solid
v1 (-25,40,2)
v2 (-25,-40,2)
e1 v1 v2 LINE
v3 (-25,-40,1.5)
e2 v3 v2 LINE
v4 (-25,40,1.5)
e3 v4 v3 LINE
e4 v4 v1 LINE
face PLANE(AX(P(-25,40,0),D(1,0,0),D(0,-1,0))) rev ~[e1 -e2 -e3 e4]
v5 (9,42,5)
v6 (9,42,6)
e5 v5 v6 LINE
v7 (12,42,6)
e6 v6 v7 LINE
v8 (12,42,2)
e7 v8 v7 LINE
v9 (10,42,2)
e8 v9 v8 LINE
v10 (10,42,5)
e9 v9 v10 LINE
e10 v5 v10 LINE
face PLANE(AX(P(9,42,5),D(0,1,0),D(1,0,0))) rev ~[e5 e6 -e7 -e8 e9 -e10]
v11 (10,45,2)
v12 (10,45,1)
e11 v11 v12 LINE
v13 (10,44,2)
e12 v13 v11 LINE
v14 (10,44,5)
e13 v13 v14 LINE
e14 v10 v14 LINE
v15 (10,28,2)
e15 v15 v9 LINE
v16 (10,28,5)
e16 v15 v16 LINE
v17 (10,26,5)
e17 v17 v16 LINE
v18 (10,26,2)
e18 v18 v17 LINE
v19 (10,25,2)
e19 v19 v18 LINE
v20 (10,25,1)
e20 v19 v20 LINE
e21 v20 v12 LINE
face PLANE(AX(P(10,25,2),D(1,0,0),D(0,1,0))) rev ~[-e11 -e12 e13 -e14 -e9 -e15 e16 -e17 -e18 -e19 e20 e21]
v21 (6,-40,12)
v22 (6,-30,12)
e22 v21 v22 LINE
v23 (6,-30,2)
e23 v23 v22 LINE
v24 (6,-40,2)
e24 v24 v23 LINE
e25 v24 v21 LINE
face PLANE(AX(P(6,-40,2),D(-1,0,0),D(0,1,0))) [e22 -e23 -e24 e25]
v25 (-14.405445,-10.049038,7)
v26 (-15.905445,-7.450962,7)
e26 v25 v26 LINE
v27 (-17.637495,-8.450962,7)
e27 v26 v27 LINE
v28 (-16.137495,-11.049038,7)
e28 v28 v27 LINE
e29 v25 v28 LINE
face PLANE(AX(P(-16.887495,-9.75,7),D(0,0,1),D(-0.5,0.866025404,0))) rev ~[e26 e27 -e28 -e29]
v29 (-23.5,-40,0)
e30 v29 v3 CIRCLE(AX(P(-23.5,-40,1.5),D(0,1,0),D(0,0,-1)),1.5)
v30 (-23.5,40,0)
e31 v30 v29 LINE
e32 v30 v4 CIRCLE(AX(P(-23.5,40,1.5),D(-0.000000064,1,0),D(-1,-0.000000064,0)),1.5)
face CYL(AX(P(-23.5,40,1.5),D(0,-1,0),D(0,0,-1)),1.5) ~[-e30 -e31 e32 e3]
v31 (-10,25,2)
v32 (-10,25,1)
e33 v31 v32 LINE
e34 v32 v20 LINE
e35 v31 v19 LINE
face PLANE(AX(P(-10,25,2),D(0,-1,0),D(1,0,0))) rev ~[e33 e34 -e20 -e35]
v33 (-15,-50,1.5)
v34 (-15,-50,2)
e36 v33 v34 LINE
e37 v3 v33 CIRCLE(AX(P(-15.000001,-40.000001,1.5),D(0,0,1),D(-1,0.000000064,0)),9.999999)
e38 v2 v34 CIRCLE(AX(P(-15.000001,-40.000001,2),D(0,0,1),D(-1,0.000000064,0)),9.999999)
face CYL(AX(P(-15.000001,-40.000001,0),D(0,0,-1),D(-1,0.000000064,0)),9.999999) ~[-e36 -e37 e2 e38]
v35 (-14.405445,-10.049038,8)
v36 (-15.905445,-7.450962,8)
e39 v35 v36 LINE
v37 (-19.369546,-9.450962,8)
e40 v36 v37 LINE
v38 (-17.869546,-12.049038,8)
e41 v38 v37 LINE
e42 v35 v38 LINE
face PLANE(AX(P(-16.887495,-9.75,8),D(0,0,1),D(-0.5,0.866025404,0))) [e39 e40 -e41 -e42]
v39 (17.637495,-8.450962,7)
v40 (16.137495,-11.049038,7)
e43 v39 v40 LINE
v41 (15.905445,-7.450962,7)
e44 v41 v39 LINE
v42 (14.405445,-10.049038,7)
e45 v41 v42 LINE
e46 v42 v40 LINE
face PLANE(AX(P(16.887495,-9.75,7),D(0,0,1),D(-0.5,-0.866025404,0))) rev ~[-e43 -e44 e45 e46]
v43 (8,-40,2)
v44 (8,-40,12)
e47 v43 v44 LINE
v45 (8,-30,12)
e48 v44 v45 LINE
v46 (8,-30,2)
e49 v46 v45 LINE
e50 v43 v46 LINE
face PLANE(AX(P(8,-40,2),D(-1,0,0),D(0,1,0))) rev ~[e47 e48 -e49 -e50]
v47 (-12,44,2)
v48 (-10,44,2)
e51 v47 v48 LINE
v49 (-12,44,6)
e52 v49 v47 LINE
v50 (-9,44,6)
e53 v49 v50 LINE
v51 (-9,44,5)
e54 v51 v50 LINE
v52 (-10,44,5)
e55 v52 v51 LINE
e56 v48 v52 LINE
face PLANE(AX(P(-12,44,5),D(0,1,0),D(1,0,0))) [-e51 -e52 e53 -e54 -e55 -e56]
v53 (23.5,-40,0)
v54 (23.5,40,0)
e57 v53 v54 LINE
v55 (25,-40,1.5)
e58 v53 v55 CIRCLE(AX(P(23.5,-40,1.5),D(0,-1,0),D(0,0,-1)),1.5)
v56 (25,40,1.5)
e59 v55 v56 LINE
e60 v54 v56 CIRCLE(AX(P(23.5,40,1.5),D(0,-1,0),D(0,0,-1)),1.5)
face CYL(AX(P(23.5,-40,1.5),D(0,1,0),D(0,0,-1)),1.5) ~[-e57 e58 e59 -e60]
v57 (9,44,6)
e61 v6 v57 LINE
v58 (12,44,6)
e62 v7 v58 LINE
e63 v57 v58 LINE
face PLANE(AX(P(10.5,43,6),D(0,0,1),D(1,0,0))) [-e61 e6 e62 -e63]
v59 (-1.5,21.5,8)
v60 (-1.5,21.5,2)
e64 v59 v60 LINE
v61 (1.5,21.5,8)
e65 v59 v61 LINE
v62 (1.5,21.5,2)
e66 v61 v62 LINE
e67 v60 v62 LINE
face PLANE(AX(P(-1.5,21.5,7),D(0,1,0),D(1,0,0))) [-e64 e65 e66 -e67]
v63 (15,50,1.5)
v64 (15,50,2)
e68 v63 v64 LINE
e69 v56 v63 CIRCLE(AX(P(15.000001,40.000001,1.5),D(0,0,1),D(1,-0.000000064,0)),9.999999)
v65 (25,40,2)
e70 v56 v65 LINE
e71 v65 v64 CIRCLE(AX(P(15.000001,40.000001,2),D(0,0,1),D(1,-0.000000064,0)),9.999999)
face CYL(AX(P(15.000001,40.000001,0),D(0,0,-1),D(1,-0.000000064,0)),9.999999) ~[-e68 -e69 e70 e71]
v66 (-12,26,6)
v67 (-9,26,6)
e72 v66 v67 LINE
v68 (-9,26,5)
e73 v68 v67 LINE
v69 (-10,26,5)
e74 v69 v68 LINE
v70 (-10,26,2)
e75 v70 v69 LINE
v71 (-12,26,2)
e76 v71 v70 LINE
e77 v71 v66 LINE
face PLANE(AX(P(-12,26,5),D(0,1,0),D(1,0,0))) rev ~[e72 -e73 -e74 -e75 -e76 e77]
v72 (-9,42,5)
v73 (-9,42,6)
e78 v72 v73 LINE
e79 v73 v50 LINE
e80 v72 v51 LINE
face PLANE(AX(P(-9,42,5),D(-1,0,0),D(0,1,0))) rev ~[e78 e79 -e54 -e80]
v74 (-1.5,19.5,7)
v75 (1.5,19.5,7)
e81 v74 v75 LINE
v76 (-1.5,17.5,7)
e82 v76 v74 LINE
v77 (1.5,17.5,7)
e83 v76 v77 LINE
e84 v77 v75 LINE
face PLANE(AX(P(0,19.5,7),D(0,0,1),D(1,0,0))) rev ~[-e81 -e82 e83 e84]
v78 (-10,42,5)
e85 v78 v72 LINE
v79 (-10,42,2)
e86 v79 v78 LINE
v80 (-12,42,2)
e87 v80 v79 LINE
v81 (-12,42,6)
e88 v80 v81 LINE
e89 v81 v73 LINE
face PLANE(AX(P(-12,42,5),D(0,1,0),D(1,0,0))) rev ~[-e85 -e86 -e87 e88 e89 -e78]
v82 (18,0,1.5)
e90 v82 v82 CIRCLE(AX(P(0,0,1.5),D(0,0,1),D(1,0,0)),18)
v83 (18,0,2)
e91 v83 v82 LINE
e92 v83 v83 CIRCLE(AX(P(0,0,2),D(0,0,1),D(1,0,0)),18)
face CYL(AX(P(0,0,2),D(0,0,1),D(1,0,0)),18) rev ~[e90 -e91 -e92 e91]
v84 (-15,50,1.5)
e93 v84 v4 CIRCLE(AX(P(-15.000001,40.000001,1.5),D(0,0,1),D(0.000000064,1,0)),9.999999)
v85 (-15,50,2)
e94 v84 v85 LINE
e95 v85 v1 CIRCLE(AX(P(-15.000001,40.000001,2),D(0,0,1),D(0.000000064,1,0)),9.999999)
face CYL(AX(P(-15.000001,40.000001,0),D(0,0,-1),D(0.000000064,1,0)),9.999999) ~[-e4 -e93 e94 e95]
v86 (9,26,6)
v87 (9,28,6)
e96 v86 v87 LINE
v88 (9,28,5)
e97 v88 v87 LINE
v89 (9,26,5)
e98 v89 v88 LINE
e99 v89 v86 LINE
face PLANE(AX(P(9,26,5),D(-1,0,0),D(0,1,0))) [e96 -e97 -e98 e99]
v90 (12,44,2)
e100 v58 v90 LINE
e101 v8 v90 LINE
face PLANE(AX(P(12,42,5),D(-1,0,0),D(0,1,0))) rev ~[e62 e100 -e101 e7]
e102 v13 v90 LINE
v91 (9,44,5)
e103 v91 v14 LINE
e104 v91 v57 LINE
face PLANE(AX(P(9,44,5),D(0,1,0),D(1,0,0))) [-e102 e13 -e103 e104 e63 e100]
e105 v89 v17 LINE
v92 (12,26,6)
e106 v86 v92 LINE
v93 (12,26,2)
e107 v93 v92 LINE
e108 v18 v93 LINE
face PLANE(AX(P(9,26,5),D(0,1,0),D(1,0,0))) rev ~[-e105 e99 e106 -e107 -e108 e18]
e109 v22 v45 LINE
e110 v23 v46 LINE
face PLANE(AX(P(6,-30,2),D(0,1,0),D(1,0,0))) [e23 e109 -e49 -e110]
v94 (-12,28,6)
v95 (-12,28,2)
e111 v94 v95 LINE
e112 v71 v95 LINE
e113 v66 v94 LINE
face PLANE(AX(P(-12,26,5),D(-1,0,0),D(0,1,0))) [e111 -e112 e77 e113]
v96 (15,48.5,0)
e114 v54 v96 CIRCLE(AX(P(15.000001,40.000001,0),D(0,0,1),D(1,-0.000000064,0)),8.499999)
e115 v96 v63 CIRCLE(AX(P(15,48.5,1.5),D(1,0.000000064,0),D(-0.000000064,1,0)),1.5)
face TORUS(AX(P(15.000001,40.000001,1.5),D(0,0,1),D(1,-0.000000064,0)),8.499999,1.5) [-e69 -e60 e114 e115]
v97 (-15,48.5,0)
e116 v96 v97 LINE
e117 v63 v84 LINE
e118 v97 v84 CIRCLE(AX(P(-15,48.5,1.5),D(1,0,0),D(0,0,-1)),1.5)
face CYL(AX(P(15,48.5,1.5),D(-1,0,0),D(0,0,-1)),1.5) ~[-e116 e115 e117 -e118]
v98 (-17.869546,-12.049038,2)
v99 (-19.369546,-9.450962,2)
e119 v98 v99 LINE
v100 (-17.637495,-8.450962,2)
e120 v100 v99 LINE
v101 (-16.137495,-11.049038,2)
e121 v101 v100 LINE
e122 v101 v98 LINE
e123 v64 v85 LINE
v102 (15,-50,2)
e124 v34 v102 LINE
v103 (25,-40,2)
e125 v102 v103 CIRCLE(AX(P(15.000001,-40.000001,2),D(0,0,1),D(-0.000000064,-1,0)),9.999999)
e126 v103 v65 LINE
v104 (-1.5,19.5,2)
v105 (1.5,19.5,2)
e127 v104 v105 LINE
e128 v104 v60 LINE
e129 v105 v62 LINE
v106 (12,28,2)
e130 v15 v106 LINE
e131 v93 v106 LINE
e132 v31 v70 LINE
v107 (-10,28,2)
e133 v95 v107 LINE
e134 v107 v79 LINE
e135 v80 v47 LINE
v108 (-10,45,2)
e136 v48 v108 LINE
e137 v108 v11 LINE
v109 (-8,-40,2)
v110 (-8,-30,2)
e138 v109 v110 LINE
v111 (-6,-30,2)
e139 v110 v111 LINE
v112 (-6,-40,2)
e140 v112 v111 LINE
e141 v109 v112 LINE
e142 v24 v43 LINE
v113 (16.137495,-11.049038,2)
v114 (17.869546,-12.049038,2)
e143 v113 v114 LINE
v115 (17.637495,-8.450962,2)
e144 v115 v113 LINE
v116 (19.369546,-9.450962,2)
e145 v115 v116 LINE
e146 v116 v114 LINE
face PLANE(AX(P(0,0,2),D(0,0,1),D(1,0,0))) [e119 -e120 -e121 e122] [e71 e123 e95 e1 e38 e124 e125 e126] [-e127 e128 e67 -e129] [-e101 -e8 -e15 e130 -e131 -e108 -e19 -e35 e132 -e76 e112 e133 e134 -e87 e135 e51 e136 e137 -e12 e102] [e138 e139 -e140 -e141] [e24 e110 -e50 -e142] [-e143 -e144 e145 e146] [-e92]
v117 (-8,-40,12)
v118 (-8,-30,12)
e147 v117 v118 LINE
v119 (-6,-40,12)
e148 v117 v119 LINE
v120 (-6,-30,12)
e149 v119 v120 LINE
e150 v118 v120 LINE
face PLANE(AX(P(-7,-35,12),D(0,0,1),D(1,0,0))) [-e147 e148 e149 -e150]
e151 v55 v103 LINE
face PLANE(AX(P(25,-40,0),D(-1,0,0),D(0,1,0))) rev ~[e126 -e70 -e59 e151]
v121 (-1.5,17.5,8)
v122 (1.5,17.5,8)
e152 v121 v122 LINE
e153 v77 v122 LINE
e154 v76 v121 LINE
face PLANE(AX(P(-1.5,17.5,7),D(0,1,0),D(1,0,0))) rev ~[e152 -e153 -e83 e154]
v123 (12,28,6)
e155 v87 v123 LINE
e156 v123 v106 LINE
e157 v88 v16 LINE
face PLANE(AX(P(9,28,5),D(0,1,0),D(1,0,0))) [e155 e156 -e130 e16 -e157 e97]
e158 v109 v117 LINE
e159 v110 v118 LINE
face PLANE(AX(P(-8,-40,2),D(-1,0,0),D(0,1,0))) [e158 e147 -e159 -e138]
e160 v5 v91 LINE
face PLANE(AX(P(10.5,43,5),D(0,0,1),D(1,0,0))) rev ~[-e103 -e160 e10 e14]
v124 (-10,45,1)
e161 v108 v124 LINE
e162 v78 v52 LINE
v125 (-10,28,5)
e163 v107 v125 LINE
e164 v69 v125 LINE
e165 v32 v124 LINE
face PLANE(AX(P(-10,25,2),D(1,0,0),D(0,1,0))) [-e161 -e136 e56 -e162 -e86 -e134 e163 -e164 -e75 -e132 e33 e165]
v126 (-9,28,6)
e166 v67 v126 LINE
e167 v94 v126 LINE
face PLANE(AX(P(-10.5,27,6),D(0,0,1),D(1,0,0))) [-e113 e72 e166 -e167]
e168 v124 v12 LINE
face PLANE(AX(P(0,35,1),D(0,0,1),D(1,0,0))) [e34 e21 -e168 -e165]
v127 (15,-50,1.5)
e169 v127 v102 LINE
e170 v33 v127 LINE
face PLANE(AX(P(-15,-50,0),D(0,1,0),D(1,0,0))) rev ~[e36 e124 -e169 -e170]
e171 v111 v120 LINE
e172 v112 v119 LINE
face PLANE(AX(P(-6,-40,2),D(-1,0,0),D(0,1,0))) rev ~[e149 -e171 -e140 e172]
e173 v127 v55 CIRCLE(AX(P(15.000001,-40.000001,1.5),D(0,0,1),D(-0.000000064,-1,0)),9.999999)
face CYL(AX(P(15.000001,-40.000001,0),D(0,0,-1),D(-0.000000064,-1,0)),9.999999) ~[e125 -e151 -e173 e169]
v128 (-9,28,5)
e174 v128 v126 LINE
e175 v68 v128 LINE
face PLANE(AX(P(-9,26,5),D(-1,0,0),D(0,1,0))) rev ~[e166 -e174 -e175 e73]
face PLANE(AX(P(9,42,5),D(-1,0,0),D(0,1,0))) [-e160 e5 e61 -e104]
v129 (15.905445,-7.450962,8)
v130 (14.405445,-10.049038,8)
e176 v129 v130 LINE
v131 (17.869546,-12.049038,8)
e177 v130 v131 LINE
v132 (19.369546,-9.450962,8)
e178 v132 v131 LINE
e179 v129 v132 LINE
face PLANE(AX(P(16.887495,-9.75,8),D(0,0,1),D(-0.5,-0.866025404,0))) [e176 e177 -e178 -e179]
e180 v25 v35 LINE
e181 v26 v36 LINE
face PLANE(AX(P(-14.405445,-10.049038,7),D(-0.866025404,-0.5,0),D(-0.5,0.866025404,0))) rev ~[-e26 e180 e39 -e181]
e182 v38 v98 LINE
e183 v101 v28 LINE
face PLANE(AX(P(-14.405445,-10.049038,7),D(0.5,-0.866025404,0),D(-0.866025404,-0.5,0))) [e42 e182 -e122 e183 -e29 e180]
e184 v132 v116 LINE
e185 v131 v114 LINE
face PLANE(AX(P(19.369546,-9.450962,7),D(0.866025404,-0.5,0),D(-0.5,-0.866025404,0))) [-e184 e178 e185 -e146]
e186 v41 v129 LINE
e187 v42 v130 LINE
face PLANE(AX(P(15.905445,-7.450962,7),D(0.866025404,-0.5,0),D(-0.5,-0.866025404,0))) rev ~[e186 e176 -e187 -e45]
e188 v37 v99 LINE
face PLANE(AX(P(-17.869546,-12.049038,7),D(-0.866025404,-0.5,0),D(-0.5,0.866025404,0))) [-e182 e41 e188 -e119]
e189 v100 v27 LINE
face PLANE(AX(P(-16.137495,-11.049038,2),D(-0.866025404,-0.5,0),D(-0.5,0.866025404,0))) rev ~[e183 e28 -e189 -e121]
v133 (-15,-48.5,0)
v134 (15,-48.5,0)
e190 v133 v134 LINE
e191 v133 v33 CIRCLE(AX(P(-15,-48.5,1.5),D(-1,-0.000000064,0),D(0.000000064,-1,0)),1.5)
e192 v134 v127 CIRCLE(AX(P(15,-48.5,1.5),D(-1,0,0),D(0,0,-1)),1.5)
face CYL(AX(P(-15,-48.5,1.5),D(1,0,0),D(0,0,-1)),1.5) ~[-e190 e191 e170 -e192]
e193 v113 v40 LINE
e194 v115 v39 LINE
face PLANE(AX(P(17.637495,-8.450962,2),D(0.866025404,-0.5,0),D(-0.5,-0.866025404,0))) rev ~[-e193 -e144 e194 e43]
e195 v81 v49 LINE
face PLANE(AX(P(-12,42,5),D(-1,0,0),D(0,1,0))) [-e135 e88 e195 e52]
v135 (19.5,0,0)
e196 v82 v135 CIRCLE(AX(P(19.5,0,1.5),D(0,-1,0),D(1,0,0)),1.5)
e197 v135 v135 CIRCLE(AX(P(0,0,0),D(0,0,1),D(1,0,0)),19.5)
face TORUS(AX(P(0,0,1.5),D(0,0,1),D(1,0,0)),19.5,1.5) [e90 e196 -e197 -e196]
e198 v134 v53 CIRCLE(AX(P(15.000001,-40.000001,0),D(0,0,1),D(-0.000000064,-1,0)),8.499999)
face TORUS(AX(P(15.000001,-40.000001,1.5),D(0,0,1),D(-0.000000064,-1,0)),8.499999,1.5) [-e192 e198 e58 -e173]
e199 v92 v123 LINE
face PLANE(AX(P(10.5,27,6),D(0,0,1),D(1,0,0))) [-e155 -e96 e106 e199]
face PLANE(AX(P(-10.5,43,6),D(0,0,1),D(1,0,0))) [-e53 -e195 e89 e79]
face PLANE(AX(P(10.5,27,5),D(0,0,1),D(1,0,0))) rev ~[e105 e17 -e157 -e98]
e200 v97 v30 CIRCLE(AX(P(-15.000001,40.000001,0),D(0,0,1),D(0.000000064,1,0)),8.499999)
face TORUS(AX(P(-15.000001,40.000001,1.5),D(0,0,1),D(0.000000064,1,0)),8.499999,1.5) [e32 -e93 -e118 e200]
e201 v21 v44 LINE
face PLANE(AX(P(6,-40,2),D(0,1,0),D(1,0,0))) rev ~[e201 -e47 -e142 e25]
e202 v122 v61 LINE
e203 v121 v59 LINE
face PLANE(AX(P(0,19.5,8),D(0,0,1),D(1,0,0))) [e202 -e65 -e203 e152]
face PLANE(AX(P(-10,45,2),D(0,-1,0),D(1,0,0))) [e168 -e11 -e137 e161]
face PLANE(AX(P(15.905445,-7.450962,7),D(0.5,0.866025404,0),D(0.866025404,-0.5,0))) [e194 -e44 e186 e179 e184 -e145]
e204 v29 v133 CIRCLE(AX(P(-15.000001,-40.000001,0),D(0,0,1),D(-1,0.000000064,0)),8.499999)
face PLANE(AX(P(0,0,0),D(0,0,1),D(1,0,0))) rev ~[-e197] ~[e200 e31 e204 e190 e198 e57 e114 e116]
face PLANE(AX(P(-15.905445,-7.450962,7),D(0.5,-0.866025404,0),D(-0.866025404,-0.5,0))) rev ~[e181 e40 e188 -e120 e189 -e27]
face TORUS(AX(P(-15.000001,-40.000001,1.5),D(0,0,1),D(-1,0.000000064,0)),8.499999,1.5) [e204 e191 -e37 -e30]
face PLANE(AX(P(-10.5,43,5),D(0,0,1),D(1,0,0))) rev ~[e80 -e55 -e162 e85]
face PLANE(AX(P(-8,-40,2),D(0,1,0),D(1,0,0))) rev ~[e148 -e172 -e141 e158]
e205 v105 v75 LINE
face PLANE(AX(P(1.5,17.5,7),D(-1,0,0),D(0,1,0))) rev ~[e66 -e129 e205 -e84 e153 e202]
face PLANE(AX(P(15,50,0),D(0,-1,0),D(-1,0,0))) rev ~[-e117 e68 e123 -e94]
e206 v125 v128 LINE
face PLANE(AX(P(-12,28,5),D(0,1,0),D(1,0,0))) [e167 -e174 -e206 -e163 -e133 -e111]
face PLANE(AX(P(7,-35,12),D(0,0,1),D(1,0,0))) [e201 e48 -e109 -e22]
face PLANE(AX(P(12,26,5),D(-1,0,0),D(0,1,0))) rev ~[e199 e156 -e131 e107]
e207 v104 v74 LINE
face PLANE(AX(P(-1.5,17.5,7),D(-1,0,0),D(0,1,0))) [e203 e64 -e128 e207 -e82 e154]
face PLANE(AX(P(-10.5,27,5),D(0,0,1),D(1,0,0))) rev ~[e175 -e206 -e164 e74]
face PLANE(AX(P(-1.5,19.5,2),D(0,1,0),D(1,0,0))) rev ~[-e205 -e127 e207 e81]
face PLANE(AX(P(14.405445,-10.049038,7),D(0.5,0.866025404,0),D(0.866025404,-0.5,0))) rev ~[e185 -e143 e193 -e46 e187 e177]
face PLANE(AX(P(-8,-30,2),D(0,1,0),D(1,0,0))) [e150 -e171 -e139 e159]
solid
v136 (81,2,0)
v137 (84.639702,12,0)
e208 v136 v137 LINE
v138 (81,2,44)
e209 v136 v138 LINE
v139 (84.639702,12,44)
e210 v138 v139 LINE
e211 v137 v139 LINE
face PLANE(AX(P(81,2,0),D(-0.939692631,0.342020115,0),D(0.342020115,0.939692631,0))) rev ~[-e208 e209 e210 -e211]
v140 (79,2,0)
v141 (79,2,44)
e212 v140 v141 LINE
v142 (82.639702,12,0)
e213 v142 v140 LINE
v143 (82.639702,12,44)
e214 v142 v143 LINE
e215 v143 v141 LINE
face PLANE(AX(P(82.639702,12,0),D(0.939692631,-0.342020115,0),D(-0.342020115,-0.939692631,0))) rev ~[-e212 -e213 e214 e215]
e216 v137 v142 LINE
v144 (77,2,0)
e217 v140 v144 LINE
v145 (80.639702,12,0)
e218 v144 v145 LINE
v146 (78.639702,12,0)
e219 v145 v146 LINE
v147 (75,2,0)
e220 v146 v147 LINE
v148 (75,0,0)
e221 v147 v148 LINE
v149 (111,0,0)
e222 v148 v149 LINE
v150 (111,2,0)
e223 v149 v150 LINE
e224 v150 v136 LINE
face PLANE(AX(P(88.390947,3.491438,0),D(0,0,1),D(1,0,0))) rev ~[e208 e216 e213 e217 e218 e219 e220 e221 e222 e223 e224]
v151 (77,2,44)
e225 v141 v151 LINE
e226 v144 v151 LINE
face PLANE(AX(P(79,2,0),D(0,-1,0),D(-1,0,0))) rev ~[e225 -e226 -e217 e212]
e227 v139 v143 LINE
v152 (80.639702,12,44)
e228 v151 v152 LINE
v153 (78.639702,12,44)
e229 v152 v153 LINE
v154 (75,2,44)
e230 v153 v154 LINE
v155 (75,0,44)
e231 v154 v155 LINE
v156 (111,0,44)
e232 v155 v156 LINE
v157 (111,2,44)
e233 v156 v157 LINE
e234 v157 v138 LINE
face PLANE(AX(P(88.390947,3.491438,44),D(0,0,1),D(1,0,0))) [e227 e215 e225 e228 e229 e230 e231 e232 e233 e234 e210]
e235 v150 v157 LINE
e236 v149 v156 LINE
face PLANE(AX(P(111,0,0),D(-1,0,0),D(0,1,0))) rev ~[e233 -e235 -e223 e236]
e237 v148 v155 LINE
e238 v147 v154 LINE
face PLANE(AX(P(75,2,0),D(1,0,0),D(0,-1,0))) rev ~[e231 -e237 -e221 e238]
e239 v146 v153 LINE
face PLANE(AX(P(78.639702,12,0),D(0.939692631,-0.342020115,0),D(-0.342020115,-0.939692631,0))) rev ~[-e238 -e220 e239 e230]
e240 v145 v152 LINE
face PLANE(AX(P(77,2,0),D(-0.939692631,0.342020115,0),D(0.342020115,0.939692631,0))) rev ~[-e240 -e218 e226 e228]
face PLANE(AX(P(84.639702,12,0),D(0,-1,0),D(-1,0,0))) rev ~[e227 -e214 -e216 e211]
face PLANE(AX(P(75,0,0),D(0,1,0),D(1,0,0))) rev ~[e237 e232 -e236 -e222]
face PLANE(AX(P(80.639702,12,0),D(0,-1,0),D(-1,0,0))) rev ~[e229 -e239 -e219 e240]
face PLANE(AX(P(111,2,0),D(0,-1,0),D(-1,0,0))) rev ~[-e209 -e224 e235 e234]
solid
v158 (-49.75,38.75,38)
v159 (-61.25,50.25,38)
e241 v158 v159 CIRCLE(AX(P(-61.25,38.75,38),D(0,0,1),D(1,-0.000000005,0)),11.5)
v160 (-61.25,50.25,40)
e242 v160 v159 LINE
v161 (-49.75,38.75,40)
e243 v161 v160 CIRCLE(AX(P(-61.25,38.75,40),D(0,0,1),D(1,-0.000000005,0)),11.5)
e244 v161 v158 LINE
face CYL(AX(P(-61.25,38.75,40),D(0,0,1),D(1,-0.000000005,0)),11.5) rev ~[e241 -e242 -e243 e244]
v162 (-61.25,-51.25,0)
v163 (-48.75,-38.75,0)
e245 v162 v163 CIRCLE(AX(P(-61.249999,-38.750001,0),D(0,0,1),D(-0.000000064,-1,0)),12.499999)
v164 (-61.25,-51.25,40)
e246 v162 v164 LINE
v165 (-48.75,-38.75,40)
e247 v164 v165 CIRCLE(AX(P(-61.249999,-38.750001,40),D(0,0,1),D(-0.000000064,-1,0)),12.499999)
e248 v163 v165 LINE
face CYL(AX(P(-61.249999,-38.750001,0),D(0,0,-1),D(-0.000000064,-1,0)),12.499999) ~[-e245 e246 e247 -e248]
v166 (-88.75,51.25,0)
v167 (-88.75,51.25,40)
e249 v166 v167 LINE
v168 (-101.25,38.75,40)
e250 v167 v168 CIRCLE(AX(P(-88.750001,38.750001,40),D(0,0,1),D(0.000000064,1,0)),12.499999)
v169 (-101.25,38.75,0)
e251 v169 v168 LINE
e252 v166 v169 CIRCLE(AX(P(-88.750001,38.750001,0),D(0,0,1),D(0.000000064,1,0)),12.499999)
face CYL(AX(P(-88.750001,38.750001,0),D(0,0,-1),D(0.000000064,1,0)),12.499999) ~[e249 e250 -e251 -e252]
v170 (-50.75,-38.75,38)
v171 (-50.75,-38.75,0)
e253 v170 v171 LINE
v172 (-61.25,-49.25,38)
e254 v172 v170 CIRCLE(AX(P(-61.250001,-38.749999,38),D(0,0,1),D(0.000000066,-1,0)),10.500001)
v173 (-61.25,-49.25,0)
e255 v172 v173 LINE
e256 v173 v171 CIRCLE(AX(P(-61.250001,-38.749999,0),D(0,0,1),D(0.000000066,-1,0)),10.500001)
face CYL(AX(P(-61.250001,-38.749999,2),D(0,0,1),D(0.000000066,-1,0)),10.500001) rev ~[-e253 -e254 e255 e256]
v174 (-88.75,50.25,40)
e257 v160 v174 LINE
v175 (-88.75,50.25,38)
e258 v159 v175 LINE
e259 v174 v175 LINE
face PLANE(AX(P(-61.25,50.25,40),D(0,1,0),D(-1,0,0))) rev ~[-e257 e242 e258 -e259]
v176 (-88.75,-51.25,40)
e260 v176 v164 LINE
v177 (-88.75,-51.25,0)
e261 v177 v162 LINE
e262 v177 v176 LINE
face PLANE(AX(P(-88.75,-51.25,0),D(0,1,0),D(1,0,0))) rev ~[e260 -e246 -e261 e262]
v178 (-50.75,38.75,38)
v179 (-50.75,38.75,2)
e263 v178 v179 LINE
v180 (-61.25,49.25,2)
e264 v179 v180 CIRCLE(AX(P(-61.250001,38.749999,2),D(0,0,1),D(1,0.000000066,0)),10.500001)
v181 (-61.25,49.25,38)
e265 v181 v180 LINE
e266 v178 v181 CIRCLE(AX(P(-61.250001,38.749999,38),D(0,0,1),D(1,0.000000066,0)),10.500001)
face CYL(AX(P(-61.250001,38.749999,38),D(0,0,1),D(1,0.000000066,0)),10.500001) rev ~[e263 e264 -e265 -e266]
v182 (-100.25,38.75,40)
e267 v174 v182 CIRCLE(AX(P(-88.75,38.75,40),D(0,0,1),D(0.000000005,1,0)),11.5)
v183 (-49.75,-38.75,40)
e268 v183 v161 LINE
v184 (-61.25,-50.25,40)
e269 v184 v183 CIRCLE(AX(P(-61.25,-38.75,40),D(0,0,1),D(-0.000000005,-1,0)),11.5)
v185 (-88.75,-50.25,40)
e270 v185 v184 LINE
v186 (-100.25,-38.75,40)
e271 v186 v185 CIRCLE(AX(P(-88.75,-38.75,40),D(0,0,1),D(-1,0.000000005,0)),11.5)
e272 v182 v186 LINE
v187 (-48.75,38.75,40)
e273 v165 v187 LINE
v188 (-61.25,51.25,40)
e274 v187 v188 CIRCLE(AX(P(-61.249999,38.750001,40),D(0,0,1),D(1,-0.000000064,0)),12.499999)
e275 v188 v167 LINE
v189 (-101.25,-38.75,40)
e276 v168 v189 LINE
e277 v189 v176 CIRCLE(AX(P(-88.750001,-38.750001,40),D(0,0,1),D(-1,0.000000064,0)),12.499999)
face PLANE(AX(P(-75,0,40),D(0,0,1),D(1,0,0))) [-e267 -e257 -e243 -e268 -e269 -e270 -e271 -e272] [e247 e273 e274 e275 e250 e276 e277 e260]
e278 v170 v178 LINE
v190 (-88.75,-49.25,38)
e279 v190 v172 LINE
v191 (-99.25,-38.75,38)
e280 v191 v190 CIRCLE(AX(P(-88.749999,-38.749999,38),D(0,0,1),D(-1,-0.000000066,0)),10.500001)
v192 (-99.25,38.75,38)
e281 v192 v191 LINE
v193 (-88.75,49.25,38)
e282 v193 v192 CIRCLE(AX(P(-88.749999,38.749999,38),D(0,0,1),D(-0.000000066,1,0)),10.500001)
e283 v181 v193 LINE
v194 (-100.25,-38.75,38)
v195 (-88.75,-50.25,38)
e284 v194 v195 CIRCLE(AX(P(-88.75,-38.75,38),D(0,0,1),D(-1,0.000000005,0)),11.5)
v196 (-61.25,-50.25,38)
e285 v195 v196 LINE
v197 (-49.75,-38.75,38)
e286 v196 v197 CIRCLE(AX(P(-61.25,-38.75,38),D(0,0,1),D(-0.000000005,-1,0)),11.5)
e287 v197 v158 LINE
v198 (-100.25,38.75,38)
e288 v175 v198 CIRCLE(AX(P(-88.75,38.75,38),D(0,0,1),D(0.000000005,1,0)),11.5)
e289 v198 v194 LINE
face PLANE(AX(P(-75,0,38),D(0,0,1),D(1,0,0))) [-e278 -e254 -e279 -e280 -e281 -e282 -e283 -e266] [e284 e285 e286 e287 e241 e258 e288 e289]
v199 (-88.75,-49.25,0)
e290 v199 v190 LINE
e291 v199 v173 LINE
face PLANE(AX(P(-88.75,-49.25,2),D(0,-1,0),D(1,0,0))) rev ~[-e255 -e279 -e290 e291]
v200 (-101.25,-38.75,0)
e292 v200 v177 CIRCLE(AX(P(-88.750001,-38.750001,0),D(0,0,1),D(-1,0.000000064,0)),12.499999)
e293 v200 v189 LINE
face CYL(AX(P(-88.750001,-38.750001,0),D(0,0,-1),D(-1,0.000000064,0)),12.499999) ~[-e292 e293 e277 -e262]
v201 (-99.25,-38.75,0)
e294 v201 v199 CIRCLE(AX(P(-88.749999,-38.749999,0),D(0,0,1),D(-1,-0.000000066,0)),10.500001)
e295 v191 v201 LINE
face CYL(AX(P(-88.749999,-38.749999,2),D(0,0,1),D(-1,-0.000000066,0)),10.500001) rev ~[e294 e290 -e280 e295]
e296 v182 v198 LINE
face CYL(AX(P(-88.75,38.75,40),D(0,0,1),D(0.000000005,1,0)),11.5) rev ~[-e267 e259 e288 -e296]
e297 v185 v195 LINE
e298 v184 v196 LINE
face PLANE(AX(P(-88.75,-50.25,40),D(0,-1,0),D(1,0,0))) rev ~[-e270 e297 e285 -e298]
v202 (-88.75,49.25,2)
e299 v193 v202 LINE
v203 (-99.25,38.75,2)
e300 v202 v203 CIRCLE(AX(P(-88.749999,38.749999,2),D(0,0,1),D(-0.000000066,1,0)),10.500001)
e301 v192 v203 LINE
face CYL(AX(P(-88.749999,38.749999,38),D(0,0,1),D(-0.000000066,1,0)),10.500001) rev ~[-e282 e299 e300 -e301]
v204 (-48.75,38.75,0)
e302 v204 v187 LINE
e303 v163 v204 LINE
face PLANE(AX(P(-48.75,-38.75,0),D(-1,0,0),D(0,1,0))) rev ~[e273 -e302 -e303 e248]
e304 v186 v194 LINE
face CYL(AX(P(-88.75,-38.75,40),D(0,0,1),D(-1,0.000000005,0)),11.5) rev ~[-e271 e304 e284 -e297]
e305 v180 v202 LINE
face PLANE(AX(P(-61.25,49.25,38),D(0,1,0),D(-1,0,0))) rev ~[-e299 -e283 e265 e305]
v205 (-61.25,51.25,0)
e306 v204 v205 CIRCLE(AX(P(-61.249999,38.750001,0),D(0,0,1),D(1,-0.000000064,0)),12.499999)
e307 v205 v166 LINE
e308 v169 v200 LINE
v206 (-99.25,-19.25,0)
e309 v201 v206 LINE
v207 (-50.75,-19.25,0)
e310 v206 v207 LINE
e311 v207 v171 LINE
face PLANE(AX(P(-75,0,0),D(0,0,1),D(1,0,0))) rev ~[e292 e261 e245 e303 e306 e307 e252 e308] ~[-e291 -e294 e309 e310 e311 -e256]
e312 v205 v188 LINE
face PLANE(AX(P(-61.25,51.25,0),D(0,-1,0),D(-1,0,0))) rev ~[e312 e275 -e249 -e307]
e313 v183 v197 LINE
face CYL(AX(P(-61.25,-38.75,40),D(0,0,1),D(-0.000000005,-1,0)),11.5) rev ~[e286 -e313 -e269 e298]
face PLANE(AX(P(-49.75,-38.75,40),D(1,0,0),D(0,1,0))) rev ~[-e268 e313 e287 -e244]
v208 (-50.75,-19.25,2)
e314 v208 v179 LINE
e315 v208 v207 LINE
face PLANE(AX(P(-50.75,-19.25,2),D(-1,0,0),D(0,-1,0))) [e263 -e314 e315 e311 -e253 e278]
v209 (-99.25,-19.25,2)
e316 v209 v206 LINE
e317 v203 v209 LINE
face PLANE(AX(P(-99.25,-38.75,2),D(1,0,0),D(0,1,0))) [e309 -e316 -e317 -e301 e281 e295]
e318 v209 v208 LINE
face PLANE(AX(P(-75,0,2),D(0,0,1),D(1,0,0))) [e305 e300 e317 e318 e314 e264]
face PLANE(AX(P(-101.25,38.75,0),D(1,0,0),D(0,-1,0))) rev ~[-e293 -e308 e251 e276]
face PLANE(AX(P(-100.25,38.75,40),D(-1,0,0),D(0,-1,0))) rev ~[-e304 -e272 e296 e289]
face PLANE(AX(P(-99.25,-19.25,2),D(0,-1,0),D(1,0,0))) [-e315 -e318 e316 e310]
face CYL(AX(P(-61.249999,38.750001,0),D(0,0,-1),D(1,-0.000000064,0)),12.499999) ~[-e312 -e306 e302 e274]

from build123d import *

# Parameters (mm, degrees)
PAD_DEPTH          = 2
SKETCH007_W        = 20
SKETCH007_H        = 20
POCKET001_DEPTH    = 1
SKETCH002_R        = 18
POCKET_DEPTH       = 2.001
SKETCH004_W        = 3
SKETCH004_H        = 2
PAD003_DEPTH       = 5
SKETCH005_W        = 3
SKETCH005_H        = 4
PAD004_DEPTH       = 1
POLARPATTERN_COUNT = 3
FILLET_R           = 1.5
SKETCH008_W        = 2
SKETCH008_H        = 2
PAD006_DEPTH       = 3
SKETCH009_W        = 3
SKETCH009_H        = 2
PAD007_DEPTH       = 1
SKETCH010_W        = 3
SKETCH010_H        = 2
PAD008_DEPTH       = 1
SKETCH011_W        = 3
SKETCH011_H        = 2
PAD009_DEPTH       = 1
SKETCH012_W        = 3
SKETCH012_H        = 2
PAD010_DEPTH       = 1
SKETCH017_W        = 2
SKETCH017_H        = 10
PAD012_DEPTH       = 10
PAD002_DEPTH       = 44
PAD011_DEPTH       = 40
POCKET002_DEPTH    = 2
POCKET003_DEPTH    = 36
POCKET004_DEPTH    = 2.001


with BuildPart() as body:
    # Sketch → Pad (new body)
    with BuildSketch(Plane.XY):
        with BuildLine():
            Line((-25, 40), (-25, -40))
            ThreePointArc((-25, -40), (-22.071068, -47.071068), (-15, -50))
            Line((-15, -50), (15, -50))
            ThreePointArc((15, -50), (22.071068, -47.071068), (25, -40))
            Line((25, -40), (25, 40))
            ThreePointArc((25, 40), (22.071068, 47.071068), (15, 50))
            Line((15, 50), (-15, 50))
            ThreePointArc((-15, 50), (-22.071068, 47.071068), (-25, 40))
        make_face()
    extrude(amount=PAD_DEPTH)

    # Sketch007 (on Face10 of Pad) → Pocket001 (cut)
    with BuildSketch(Plane.XY.offset(2)):
        with Locations((0, 35)):
            Rectangle(SKETCH007_W, SKETCH007_H)
    extrude(amount=-POCKET001_DEPTH, mode=Mode.SUBTRACT)

    # Sketch002 (on Face10 of Pad) → Pocket (cut, through all)
    with BuildSketch(Plane.XY.offset(2)):
        Circle(SKETCH002_R)
    extrude(amount=-POCKET_DEPTH, mode=Mode.SUBTRACT)

    # Sketch004 (on Face10 of Pad) → Pad003 (join)
    with BuildSketch(Plane.XY.offset(2)):
        with Locations((0, 20.5)):
            Rectangle(SKETCH004_W, SKETCH004_H)
    pad003 = extrude(amount=PAD003_DEPTH)

    # Sketch005 (on Face20 of Pad003) → Pad004 (join)
    with BuildSketch(Plane.XY.offset(7)):
        with Locations((0, 19.5)):
            Rectangle(SKETCH005_W, SKETCH005_H)
    pad004 = extrude(amount=PAD004_DEPTH)

    # PolarPattern: Pad003, Pad004 ×3 about axis
    polarpattern_axis = Axis((0, 0, 2), (0, 0, 1))
    for i in range(1, POLARPATTERN_COUNT):
        add(pad003.rotate(polarpattern_axis, i * 360 / POLARPATTERN_COUNT))
        add(pad004.rotate(polarpattern_axis, i * 360 / POLARPATTERN_COUNT))

    # Fillet
    fillet_edges = [body.edges().sort_by_distance(p)[0] for p in [
        (-18, 0, 0),
        (25, 0, 0),
        (22.071068, 47.071068, 0),
        (0, 50, 0),
        (-22.071068, 47.071068, 0),
        (-25, 0, 0),
    ]]
    fillet(fillet_edges, radius=FILLET_R)

    # Sketch008 (on Face10 of Pad) → Pad006 (join)
    with BuildSketch(Plane.XY.offset(2)):
        with Locations((-11, 43)):
            Rectangle(SKETCH008_W, SKETCH008_H)
        with Locations((11, 43)):
            Rectangle(SKETCH008_W, SKETCH008_H)
        with Locations((11, 27)):
            Rectangle(SKETCH008_W, SKETCH008_H)
        with Locations((-11, 27)):
            Rectangle(SKETCH008_W, SKETCH008_H)
    extrude(amount=PAD006_DEPTH)

    # Sketch009 (on Face57 of Pad006) → Pad007 (join)
    with BuildSketch(Plane.XY.offset(5)):
        with Locations((-10.5, 43)):
            Rectangle(SKETCH009_W, SKETCH009_H)
    extrude(amount=PAD007_DEPTH)

    # Sketch010 (on Face56 of Pad007) → Pad008 (join)
    with BuildSketch(Plane.XY.offset(5)):
        with Locations((-10.5, 27)):
            Rectangle(SKETCH010_W, SKETCH010_H)
    extrude(amount=PAD008_DEPTH)

    # Sketch011 (on Face61 of Pad008) → Pad009 (join)
    with BuildSketch(Plane.XY.offset(5)):
        with Locations((10.5, 43)):
            Rectangle(SKETCH011_W, SKETCH011_H)
    extrude(amount=PAD009_DEPTH)

    # Sketch012 (on Face62 of Pad009) → Pad010 (join)
    with BuildSketch(Plane.XY.offset(5)):
        with Locations((10.5, 27)):
            Rectangle(SKETCH012_W, SKETCH012_H)
    extrude(amount=PAD010_DEPTH)

    # Sketch017 (on Face4 of Pad010) → Pad012 (join)
    with BuildSketch(Plane.XY.offset(2)):
        with Locations((7, -35)):
            Rectangle(SKETCH017_W, SKETCH017_H)
        with Locations((-7, -35)):
            Rectangle(SKETCH017_W, SKETCH017_H)
    extrude(amount=PAD012_DEPTH)


with BuildPart() as stand:
    # Sketch003 → Pad002 (new body)
    with BuildSketch(Plane.XY):
        Polygon((75, 0), (111, 0), (111, 2), (81, 2), (84.639702, 12), (82.639702, 12), (79, 2), (77, 2), (80.639702, 12), (78.639702, 12), (75, 2), align=None)
    extrude(amount=PAD002_DEPTH)


with BuildPart() as frame:
    # Sketch013 → Pad011 (new body)
    with BuildSketch(Plane.XY):
        with BuildLine():
            Line((-101.25, 38.75), (-101.25, -38.75))
            ThreePointArc((-101.25, -38.75), (-97.588835, -47.588835), (-88.75, -51.25))
            Line((-88.75, -51.25), (-61.25, -51.25))
            ThreePointArc((-61.25, -51.25), (-52.411165, -47.588835), (-48.75, -38.75))
            Line((-48.75, -38.75), (-48.75, 38.75))
            ThreePointArc((-48.75, 38.75), (-52.411165, 47.588835), (-61.25, 51.25))
            Line((-61.25, 51.25), (-88.75, 51.25))
            ThreePointArc((-88.75, 51.25), (-97.588835, 47.588835), (-101.25, 38.75))
        make_face()
    extrude(amount=PAD011_DEPTH)

    # Sketch014 (on Face10 of Pad011) → Pocket002 (cut)
    with BuildSketch(Plane.XY.offset(40)):
        with BuildLine():
            Line((-100.25, 38.75), (-100.25, -38.75))
            ThreePointArc((-100.25, -38.75), (-96.881728, -46.881728), (-88.75, -50.25))
            Line((-88.75, -50.25), (-61.25, -50.25))
            ThreePointArc((-61.25, -50.25), (-53.118272, -46.881728), (-49.75, -38.75))
            Line((-49.75, -38.75), (-49.75, 38.75))
            ThreePointArc((-49.75, 38.75), (-53.118272, 46.881728), (-61.25, 50.25))
            Line((-61.25, 50.25), (-88.75, 50.25))
            ThreePointArc((-88.75, 50.25), (-96.881728, 46.881728), (-100.25, 38.75))
        make_face()
    extrude(amount=-POCKET002_DEPTH, mode=Mode.SUBTRACT)

    # Sketch015 (on Face19 of Pocket002) → Pocket003 (cut)
    with BuildSketch(Plane.XY.offset(38)):
        with BuildLine():
            Line((-99.25, 38.75), (-99.25, -38.75))
            ThreePointArc((-99.25, -38.75), (-96.174621, -46.174621), (-88.75, -49.25))
            Line((-88.75, -49.25), (-61.25, -49.25))
            ThreePointArc((-61.25, -49.25), (-53.825379, -46.174621), (-50.75, -38.75))
            Line((-50.75, -38.75), (-50.75, 38.75))
            ThreePointArc((-50.75, 38.75), (-53.825379, 46.174621), (-61.25, 49.25))
            Line((-61.25, 49.25), (-88.75, 49.25))
            ThreePointArc((-88.75, 49.25), (-96.174621, 46.174621), (-99.25, 38.75))
        make_face()
    extrude(amount=-POCKET003_DEPTH, mode=Mode.SUBTRACT)

    # Sketch016 (on Face28 of Pocket003) → Pocket004 (cut, through all)
    with BuildSketch(Plane.XY.offset(2)):
        with BuildLine():
            Line((-88.75, -49.25), (-61.25, -49.25))
            ThreePointArc((-61.25, -49.25), (-53.825379, -46.174621), (-50.75, -38.75))
            Line((-50.75, -19.25), (-50.75, -38.75))
            Line((-99.25, -19.25), (-50.75, -19.25))
            Line((-99.25, -38.75), (-99.25, -19.25))
            ThreePointArc((-99.25, -38.75), (-96.174621, -46.174621), (-88.75, -49.25))
        make_face()
    extrude(amount=-POCKET004_DEPTH, mode=Mode.SUBTRACT)


solid = Compound([body.part, stand.part, frame.part])
